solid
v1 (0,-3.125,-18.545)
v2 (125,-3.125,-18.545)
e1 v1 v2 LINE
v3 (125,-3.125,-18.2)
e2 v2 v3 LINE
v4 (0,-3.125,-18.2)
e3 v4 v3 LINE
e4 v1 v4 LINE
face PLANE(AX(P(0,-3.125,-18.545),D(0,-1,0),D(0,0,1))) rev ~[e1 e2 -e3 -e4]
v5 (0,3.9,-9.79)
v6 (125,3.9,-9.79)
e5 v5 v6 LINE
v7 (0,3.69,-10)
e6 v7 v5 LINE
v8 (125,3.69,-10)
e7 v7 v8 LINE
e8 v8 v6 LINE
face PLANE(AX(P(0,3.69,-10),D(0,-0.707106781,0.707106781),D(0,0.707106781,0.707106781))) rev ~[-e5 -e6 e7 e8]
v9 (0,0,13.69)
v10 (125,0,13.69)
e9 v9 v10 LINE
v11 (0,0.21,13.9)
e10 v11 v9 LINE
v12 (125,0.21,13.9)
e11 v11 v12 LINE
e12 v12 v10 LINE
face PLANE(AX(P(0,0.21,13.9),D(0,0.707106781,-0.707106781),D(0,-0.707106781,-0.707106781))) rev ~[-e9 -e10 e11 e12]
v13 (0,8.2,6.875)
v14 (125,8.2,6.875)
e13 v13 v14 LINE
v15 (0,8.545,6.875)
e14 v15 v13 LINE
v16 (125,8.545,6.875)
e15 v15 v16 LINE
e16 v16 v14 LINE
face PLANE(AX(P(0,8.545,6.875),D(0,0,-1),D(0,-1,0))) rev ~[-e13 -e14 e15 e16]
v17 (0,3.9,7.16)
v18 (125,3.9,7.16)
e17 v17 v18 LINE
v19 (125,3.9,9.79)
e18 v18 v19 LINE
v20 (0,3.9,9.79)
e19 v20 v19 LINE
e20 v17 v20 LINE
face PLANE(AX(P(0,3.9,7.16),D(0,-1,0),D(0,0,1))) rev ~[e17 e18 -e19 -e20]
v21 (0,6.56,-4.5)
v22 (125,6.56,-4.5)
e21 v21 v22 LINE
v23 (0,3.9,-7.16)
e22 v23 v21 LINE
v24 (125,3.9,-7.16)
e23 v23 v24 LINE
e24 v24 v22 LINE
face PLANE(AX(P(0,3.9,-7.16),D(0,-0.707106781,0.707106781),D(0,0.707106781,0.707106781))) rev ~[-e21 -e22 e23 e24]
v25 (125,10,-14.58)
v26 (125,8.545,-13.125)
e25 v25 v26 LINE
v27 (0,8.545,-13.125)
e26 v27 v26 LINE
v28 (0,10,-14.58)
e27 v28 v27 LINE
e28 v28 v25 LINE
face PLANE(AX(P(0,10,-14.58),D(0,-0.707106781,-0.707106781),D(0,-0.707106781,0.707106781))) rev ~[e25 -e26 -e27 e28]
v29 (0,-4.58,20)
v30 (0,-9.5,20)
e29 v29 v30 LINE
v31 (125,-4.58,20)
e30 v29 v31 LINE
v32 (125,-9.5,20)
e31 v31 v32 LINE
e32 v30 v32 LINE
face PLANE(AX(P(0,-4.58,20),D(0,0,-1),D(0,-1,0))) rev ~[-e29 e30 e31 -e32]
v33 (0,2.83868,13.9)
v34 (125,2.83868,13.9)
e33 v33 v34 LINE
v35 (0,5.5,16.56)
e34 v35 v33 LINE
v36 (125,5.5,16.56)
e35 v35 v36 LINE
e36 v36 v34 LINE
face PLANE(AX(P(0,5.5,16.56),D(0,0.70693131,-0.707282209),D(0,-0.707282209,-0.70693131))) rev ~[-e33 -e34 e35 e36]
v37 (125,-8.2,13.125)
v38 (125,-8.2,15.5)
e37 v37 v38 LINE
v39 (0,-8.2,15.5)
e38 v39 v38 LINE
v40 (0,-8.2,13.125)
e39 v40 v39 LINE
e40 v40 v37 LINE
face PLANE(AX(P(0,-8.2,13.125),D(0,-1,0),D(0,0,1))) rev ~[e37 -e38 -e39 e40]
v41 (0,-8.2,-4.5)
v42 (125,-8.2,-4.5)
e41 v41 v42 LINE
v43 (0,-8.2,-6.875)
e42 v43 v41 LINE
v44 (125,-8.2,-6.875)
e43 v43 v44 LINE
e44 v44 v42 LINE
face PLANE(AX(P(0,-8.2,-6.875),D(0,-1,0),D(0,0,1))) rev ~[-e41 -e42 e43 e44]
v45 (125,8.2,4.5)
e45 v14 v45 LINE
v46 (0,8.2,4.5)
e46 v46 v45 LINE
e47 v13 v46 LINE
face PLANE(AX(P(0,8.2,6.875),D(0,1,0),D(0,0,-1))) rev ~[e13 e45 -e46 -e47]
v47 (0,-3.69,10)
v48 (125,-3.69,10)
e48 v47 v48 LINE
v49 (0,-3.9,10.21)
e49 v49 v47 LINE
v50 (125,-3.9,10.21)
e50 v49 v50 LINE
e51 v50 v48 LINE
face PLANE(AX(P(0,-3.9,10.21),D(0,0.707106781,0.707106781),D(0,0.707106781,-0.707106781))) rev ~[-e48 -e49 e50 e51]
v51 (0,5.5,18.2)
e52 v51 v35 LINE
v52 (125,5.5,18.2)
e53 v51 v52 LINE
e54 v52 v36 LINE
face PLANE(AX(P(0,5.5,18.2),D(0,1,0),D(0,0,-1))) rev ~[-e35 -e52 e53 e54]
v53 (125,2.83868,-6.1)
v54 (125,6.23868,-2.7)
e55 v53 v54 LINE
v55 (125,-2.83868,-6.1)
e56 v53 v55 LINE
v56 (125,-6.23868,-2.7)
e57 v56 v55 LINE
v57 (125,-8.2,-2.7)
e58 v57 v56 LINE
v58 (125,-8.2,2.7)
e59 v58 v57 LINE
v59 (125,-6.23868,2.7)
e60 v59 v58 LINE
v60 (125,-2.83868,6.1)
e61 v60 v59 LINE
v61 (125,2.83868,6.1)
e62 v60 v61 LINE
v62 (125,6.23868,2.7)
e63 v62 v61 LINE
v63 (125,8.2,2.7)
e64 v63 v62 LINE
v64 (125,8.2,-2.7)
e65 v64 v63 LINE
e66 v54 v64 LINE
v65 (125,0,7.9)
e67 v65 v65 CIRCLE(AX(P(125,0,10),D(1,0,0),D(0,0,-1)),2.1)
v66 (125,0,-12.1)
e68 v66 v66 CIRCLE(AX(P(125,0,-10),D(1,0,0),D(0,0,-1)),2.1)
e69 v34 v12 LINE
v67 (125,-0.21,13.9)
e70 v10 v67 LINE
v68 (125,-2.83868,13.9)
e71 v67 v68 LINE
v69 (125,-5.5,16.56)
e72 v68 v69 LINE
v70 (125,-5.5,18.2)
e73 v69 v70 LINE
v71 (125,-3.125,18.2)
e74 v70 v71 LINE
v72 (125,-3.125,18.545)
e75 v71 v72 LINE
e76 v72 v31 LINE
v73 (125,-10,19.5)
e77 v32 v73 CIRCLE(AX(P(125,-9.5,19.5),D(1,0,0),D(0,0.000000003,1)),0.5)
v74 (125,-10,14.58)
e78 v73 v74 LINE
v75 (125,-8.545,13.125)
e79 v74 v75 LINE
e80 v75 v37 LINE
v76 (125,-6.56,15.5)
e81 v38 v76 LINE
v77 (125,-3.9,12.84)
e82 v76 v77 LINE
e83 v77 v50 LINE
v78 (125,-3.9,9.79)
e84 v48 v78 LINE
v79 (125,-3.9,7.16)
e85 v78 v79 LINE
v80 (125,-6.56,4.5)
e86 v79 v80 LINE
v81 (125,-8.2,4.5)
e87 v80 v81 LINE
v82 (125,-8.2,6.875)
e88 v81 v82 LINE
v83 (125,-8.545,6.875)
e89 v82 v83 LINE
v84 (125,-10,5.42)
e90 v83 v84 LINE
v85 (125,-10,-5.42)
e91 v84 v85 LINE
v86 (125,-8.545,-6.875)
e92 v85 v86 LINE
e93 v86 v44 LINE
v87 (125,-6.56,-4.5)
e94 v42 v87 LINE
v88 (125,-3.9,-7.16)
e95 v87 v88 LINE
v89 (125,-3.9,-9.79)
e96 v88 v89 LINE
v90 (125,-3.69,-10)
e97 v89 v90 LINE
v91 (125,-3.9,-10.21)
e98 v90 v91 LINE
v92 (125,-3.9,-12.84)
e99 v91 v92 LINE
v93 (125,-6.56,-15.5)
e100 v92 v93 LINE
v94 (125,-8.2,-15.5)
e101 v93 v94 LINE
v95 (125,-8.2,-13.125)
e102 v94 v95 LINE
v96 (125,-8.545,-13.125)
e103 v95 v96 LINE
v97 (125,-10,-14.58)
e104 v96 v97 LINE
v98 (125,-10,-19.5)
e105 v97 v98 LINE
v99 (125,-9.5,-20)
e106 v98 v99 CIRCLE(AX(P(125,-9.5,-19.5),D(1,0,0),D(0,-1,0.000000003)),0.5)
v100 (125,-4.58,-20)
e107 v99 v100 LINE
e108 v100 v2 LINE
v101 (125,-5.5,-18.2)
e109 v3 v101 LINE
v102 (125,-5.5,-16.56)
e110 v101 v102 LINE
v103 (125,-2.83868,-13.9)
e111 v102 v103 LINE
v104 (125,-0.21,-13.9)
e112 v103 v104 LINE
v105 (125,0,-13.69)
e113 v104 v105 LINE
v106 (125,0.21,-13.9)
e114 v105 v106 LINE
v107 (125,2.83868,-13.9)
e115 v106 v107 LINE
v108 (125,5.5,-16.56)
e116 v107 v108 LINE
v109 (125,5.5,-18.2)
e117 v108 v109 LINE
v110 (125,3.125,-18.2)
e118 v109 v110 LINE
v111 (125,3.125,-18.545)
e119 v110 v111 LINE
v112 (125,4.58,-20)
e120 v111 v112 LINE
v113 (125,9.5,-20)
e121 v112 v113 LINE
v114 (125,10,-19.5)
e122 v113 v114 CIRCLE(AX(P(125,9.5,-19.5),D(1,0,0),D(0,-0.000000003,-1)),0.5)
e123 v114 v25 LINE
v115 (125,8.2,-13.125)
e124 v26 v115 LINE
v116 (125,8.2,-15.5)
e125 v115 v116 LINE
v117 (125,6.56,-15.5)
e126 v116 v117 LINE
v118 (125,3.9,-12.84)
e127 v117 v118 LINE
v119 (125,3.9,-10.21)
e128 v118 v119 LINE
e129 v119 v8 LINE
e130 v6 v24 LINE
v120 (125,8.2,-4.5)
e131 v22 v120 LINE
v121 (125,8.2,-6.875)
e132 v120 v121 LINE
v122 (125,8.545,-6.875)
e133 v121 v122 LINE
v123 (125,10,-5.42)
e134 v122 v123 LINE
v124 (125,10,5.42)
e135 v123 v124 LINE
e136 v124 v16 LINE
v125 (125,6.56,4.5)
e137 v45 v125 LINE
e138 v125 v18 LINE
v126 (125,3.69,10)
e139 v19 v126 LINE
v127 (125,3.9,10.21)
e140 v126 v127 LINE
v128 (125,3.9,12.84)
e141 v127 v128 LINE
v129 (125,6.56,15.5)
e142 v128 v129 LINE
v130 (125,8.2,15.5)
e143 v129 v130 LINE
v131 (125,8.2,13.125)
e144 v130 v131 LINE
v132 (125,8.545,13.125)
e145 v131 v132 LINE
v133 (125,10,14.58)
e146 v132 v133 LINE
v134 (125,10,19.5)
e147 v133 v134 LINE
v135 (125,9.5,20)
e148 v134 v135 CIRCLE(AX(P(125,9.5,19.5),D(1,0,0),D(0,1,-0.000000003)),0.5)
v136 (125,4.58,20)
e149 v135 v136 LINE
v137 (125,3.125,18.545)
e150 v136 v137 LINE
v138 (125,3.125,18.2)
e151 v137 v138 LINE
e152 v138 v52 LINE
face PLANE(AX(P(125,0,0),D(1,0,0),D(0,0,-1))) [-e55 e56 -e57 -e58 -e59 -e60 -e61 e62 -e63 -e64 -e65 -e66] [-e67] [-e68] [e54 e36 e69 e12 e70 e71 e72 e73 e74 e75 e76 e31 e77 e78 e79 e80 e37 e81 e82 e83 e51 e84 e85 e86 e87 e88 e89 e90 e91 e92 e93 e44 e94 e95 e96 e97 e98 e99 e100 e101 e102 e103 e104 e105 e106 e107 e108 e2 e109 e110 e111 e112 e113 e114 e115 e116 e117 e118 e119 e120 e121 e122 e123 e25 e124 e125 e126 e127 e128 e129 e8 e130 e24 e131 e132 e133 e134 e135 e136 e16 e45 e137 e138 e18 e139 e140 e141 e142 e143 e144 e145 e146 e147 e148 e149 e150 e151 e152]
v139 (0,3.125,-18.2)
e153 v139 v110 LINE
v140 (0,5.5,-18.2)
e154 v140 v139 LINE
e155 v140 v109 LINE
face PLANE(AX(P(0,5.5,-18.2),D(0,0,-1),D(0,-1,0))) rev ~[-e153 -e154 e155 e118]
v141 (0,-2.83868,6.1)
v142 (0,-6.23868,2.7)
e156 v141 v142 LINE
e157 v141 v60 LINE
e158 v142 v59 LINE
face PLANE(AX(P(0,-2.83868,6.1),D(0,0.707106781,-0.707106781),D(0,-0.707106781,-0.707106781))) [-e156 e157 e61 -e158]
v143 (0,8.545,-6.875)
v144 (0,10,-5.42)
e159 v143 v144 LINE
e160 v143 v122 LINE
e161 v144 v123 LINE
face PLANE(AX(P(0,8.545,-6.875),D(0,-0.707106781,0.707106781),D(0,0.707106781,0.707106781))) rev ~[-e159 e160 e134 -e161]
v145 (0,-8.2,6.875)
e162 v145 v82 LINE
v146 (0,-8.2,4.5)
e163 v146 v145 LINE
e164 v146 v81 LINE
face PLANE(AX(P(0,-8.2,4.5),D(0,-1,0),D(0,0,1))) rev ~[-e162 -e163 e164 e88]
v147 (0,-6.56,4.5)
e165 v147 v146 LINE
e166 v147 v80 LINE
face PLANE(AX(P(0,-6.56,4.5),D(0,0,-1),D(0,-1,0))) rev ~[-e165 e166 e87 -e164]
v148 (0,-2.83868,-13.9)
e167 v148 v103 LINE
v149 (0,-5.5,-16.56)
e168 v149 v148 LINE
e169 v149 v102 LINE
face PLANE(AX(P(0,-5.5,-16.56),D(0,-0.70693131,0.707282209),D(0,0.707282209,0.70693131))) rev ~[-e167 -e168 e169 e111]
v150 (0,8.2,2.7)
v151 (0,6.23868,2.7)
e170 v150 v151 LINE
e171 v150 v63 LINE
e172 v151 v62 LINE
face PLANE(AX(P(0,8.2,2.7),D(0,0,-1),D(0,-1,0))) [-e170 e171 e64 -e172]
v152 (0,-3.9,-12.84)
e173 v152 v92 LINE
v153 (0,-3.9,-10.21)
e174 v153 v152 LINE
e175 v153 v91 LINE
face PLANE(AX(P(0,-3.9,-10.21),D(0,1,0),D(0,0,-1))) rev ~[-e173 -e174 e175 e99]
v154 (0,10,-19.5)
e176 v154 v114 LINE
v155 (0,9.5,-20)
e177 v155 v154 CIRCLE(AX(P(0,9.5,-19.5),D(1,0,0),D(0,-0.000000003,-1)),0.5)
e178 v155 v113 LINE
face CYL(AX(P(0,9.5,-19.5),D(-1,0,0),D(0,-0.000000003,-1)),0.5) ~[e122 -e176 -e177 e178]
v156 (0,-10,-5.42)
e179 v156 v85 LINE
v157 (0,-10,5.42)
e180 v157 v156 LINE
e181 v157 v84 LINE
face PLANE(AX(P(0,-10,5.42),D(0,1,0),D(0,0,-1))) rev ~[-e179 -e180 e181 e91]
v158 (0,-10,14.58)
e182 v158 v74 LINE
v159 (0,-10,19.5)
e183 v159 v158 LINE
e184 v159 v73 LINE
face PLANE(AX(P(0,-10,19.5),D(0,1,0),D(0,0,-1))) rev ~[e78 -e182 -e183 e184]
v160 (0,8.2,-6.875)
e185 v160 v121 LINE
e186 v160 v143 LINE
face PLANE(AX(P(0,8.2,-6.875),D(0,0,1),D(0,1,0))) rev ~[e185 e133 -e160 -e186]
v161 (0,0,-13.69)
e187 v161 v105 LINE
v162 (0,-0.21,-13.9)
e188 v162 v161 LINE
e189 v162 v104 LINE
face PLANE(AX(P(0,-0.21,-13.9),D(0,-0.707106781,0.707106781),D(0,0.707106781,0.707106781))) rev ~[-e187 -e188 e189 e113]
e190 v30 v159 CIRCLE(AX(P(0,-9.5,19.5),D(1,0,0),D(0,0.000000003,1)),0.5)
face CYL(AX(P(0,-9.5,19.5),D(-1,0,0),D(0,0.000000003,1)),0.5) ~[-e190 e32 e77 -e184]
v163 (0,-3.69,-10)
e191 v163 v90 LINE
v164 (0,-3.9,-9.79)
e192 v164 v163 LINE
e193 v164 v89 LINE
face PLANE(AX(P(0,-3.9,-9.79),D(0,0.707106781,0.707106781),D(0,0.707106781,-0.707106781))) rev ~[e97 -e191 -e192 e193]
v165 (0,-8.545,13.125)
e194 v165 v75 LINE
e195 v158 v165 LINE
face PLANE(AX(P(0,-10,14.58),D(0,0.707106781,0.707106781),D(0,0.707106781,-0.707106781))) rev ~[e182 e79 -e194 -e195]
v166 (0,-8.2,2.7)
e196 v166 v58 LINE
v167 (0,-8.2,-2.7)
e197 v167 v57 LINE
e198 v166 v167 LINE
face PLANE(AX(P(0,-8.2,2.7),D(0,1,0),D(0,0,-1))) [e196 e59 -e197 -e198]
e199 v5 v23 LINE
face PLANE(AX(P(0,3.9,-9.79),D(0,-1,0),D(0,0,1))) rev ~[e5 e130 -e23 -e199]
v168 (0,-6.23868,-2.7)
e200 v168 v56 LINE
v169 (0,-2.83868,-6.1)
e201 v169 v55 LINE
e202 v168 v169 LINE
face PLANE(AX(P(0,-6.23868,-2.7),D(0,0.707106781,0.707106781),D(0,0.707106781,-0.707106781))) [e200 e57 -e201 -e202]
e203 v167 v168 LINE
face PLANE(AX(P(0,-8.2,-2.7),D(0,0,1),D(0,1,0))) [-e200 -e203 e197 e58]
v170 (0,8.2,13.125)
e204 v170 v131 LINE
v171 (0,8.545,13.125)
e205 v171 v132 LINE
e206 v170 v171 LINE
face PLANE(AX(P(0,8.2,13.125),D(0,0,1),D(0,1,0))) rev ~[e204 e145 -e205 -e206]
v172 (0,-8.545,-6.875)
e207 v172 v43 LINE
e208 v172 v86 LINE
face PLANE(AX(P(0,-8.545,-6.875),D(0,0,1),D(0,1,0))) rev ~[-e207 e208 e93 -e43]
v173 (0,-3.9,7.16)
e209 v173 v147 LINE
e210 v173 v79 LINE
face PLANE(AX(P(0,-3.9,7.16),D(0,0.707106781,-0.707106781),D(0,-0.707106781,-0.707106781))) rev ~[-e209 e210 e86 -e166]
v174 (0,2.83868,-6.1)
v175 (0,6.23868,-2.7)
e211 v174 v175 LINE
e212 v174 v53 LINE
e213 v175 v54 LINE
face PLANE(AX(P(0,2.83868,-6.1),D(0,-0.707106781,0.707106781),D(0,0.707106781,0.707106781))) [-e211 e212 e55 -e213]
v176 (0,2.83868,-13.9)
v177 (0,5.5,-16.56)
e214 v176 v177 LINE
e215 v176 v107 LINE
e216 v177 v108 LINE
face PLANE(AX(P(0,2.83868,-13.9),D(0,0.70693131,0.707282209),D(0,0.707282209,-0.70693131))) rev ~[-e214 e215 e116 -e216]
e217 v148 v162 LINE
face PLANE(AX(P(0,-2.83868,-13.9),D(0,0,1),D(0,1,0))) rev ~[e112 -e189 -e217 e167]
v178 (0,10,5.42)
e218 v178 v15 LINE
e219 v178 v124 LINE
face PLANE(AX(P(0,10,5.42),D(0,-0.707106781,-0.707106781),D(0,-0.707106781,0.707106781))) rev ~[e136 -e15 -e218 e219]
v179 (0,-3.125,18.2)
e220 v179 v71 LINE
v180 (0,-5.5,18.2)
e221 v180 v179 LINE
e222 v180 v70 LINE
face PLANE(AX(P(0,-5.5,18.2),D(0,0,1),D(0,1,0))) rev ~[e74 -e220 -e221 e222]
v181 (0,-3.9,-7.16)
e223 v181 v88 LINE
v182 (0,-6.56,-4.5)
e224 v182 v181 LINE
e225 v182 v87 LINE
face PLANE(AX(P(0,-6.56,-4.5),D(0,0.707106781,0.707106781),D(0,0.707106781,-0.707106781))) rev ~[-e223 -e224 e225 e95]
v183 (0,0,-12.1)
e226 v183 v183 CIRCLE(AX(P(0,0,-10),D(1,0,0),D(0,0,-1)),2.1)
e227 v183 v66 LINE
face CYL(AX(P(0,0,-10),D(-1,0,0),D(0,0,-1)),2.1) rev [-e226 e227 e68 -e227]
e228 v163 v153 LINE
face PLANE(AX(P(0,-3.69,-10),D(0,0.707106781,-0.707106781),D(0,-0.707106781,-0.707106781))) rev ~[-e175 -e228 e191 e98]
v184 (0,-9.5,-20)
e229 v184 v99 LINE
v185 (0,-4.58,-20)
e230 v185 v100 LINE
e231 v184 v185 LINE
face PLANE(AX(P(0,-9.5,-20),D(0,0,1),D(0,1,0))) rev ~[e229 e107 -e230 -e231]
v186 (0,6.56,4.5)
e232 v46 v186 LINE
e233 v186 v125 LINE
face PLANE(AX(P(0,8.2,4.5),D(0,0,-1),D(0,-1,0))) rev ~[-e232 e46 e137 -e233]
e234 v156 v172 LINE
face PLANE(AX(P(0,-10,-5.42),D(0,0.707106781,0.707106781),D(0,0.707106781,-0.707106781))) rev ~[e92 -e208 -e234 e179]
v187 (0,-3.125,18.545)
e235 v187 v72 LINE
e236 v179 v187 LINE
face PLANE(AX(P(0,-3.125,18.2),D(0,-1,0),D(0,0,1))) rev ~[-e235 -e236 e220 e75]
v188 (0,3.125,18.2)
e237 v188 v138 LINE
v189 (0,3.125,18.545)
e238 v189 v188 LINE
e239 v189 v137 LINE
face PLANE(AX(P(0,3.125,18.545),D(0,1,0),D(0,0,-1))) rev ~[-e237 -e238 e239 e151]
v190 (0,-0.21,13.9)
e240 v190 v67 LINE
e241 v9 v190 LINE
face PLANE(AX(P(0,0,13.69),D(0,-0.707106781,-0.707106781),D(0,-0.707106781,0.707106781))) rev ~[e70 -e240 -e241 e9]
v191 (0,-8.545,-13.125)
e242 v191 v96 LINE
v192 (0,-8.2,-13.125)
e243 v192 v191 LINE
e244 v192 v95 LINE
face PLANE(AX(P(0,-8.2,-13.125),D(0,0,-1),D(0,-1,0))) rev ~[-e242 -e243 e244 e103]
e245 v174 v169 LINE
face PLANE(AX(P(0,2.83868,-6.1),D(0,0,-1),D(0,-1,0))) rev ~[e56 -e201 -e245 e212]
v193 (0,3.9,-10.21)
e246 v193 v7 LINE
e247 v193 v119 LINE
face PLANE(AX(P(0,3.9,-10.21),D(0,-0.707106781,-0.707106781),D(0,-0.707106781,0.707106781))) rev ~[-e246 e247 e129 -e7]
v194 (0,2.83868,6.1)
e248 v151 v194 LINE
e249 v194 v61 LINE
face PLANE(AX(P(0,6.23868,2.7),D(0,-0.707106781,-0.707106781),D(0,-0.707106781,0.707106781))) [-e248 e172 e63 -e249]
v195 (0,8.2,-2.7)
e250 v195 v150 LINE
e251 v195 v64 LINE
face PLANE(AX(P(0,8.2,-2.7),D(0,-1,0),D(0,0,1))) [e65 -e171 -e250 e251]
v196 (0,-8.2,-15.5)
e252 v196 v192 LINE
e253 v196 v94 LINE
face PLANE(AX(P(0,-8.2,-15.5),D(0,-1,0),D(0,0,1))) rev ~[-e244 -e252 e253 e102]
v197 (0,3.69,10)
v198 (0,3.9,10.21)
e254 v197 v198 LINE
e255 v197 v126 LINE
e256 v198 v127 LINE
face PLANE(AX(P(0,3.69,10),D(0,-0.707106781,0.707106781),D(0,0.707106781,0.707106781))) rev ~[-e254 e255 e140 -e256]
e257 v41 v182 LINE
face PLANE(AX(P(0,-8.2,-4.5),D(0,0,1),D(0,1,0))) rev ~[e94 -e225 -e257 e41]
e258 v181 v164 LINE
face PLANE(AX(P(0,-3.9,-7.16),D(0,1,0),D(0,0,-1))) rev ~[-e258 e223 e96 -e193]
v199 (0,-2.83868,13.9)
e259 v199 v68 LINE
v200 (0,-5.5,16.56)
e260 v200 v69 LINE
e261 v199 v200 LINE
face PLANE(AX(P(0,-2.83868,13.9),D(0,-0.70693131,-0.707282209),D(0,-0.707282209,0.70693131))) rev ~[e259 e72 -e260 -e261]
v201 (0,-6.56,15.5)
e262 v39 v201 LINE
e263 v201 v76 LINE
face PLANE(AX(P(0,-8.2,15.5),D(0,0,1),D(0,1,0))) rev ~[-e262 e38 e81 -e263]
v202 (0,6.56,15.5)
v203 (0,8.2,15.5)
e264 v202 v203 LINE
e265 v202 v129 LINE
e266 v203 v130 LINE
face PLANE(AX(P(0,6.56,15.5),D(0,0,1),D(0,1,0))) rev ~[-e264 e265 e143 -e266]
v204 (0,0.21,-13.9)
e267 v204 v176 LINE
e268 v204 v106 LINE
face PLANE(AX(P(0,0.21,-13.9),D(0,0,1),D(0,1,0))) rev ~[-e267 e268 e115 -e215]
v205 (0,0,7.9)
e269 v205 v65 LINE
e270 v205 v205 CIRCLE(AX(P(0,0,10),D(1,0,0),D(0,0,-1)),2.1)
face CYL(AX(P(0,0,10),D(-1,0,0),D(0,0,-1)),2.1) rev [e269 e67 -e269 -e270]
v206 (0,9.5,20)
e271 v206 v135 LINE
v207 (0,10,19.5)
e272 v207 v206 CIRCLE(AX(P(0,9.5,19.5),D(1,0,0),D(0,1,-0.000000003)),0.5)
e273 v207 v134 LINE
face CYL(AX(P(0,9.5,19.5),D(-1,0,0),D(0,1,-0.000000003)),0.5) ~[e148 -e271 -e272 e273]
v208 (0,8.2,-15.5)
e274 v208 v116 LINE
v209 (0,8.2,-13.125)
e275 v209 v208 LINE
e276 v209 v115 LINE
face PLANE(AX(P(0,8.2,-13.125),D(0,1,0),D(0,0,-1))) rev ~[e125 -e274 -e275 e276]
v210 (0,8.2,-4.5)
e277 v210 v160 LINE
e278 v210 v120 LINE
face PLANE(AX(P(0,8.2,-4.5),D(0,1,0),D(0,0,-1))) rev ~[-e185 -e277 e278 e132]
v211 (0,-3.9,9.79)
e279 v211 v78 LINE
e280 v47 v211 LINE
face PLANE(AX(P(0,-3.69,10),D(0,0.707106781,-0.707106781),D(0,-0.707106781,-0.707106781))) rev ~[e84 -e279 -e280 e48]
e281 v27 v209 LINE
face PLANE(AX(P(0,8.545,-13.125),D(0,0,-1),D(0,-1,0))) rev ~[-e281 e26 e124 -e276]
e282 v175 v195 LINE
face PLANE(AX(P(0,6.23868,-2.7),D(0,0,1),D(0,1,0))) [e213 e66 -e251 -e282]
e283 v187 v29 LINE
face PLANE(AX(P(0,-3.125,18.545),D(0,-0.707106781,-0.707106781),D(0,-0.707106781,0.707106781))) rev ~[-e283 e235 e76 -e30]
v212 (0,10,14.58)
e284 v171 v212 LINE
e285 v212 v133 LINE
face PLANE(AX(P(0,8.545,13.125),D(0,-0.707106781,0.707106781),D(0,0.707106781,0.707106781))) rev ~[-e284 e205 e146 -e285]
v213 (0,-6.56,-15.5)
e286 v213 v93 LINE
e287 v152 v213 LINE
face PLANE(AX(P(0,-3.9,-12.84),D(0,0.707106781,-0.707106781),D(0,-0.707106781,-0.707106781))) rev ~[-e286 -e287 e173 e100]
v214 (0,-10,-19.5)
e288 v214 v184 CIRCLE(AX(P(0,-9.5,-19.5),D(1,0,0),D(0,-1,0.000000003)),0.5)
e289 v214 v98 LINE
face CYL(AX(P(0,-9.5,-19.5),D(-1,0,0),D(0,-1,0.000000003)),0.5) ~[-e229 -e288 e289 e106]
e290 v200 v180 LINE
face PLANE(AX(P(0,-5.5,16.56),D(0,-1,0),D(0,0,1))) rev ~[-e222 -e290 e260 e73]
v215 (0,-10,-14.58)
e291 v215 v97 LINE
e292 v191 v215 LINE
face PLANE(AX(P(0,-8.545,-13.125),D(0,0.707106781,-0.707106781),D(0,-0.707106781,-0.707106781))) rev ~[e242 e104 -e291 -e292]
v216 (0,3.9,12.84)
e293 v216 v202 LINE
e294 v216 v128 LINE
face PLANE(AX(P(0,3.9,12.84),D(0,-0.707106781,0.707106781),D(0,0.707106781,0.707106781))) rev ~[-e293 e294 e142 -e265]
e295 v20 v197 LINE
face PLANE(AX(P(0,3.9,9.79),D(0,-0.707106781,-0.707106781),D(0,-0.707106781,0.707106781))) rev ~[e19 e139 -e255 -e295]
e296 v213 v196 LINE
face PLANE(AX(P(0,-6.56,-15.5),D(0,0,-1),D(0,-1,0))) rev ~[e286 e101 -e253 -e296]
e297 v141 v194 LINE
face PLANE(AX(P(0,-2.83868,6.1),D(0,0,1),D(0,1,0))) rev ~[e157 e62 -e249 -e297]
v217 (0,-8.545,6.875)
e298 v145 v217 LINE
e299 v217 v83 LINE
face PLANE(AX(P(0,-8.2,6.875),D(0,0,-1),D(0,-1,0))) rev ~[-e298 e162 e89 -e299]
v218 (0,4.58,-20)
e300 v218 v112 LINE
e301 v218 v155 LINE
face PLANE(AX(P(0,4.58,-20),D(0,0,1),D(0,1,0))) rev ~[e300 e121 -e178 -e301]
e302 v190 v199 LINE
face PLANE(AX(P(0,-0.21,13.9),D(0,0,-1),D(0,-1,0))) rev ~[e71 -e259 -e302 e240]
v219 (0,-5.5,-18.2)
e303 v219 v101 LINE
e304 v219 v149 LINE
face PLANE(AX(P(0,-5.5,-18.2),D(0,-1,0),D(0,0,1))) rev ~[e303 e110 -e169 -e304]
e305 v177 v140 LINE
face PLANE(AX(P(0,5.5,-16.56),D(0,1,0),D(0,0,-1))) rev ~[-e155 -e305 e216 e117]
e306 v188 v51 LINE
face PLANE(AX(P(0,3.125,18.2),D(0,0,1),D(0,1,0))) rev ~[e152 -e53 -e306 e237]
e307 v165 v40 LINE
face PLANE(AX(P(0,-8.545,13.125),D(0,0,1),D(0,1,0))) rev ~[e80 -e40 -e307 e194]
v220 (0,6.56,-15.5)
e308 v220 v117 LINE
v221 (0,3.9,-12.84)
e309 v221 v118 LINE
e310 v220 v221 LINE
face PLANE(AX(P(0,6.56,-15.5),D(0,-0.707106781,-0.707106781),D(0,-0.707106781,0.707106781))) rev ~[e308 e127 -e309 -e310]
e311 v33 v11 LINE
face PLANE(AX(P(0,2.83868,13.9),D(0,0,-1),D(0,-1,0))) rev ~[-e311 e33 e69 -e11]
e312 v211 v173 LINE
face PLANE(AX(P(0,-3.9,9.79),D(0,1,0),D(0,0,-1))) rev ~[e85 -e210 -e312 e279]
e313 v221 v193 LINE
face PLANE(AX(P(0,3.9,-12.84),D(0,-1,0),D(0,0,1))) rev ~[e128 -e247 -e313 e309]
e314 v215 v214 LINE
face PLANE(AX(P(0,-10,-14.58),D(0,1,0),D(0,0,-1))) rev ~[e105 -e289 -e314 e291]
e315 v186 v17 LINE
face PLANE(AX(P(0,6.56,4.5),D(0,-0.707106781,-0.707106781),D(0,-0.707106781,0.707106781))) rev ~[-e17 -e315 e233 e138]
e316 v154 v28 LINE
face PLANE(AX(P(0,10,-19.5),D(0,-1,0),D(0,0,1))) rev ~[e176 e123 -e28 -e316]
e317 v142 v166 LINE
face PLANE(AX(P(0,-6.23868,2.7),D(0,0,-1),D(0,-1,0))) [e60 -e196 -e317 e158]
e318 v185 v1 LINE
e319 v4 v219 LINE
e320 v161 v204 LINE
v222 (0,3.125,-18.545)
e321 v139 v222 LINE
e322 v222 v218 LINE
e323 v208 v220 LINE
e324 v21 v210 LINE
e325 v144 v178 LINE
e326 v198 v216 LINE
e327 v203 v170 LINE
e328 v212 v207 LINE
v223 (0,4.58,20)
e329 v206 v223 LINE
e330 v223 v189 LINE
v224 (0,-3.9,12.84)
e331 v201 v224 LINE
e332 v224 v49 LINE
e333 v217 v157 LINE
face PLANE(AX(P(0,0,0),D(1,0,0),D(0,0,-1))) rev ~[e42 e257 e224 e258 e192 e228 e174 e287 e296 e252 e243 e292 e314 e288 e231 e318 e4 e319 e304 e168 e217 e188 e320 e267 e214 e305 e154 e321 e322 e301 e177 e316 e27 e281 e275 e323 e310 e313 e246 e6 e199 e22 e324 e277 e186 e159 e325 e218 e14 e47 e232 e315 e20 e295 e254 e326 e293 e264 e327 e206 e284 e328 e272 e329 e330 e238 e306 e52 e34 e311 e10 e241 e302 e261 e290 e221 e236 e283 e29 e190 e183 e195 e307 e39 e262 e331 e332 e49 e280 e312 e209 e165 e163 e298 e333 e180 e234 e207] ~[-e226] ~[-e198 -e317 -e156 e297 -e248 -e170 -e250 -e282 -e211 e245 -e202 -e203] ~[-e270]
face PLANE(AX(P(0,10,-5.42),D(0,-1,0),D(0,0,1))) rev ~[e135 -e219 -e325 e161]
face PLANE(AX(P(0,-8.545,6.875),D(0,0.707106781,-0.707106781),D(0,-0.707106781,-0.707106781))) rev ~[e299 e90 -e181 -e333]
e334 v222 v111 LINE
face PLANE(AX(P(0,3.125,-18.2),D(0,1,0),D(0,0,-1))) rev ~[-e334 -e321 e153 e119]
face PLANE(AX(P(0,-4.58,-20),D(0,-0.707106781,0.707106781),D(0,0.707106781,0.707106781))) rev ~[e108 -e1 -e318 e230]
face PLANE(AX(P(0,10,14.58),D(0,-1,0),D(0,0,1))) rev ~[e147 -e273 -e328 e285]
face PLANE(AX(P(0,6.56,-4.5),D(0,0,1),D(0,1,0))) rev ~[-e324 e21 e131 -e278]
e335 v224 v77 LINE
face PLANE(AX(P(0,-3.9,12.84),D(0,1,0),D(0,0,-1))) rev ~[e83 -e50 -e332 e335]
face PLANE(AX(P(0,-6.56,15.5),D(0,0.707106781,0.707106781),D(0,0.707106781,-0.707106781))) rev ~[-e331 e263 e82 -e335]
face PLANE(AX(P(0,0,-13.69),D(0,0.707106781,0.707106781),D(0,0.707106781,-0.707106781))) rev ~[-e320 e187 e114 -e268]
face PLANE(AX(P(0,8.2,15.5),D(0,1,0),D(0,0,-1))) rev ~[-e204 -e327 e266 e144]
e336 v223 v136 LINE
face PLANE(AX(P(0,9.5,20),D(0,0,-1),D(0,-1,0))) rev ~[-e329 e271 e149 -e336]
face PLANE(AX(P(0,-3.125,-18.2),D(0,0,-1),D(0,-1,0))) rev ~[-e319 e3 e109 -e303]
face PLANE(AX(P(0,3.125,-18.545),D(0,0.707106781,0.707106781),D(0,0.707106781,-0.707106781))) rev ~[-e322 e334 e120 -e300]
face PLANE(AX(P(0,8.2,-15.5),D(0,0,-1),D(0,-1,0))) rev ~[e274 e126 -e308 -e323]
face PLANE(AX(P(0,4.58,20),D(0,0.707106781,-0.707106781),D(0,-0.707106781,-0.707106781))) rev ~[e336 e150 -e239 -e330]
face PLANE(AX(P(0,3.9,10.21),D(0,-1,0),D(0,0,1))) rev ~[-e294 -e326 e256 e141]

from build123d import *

# Parameters (mm, degrees)
PROFILE_SKETCH_R      = 2.1
PROFILE_EXTRUDE_DEPTH = 125


with BuildPart() as part:
    # Profile Sketch → Profile Extrude (new body)
    with BuildSketch(Plane(origin=(0, 0, 0), x_dir=(0, 0, -1), z_dir=(1, 0, 0))):
        with BuildLine():
            Line((5.42, 10), (-5.42, 10))
            Line((-5.42, 10), (-6.875, 8.545))
            Line((-6.875, 8.545), (-6.875, 8.2))
            Line((-6.875, 8.2), (-4.5, 8.2))
            Line((-4.5, 8.2), (-4.5, 6.56))
            Line((-4.5, 6.56), (-7.16, 3.9))
            Line((-7.16, 3.9), (-9.79, 3.9))
            Line((-9.79, 3.9), (-10, 3.69))
            Line((-10, 3.69), (-10.21, 3.9))
            Line((-10.21, 3.9), (-12.84, 3.9))
            Line((-12.84, 3.9), (-15.5, 6.56))
            Line((-15.5, 6.56), (-15.5, 8.2))
            Line((-15.5, 8.2), (-13.125, 8.2))
            Line((-13.125, 8.2), (-13.125, 8.545))
            Line((-13.125, 8.545), (-14.58, 10))
            Line((-14.58, 10), (-19.5, 10))
            ThreePointArc((-19.5, 10), (-19.853553391, 9.853553391), (-20, 9.5))
            Line((-20, 9.5), (-20, 4.58))
            Line((-20, 4.58), (-18.545, 3.125))
            Line((-18.545, 3.125), (-18.2, 3.125))
            Line((-18.2, 3.125), (-18.2, 5.5))
            Line((-18.2, 5.5), (-16.56, 5.5))
            Line((-16.56, 5.5), (-13.9, 2.838679656))
            Line((-13.9, 2.838679656), (-13.9, 0.21))
            Line((-13.9, 0.21), (-13.69, 0))
            Line((-13.69, 0), (-13.9, -0.21))
            Line((-13.9, -0.21), (-13.9, -2.838679656))
            Line((-13.9, -2.838679656), (-16.56, -5.5))
            Line((-16.56, -5.5), (-18.2, -5.5))
            Line((-18.2, -5.5), (-18.2, -3.125))
            Line((-18.2, -3.125), (-18.545, -3.125))
            Line((-18.545, -3.125), (-20, -4.58))
            Line((-20, -4.58), (-20, -9.5))
            ThreePointArc((-20, -9.5), (-19.853553391, -9.853553391), (-19.5, -10))
            Line((-19.5, -10), (-14.58, -10))
            Line((-14.58, -10), (-13.125, -8.545))
            Line((-13.125, -8.545), (-13.125, -8.2))
            Line((-13.125, -8.2), (-15.5, -8.2))
            Line((-15.5, -8.2), (-15.5, -6.56))
            Line((-15.5, -6.56), (-12.84, -3.9))
            Line((-12.84, -3.9), (-10.21, -3.9))
            Line((-10.21, -3.9), (-10, -3.69))
            Line((-10, -3.69), (-9.79, -3.9))
            Line((-9.79, -3.9), (-7.16, -3.9))
            Line((-7.16, -3.9), (-4.5, -6.56))
            Line((-4.5, -6.56), (-4.5, -8.2))
            Line((-4.5, -8.2), (-6.875, -8.2))
            Line((-6.875, -8.2), (-6.875, -8.545))
            Line((-6.875, -8.545), (-5.42, -10))
            Line((-5.42, -10), (5.42, -10))
            Line((5.42, -10), (6.875, -8.545))
            Line((6.875, -8.545), (6.875, -8.2))
            Line((6.875, -8.2), (4.5, -8.2))
            Line((4.5, -8.2), (4.5, -6.56))
            Line((4.5, -6.56), (7.16, -3.9))
            Line((7.16, -3.9), (9.79, -3.9))
            Line((9.79, -3.9), (10, -3.69))
            Line((10, -3.69), (10.21, -3.9))
            Line((10.21, -3.9), (12.84, -3.9))
            Line((12.84, -3.9), (15.5, -6.56))
            Line((15.5, -6.56), (15.5, -8.2))
            Line((15.5, -8.2), (13.125, -8.2))
            Line((13.125, -8.2), (13.125, -8.545))
            Line((13.125, -8.545), (14.58, -10))
            Line((14.58, -10), (19.5, -10))
            ThreePointArc((19.5, -10), (19.853553391, -9.853553391), (20, -9.5))
            Line((20, -9.5), (20, -4.58))
            Line((20, -4.58), (18.545, -3.125))
            Line((18.545, -3.125), (18.2, -3.125))
            Line((18.2, -3.125), (18.2, -5.5))
            Line((18.2, -5.5), (16.56, -5.5))
            Line((16.56, -5.5), (13.9, -2.838679656))
            Line((13.9, -2.838679656), (13.9, -0.21))
            Line((13.9, -0.21), (13.69, 0))
            Line((13.69, 0), (13.9, 0.21))
            Line((13.9, 0.21), (13.9, 2.838679656))
            Line((13.9, 2.838679656), (16.56, 5.5))
            Line((16.56, 5.5), (18.2, 5.5))
            Line((18.2, 5.5), (18.2, 3.125))
            Line((18.2, 3.125), (18.545, 3.125))
            Line((18.545, 3.125), (20, 4.58))
            Line((20, 4.58), (20, 9.5))
            ThreePointArc((20, 9.5), (19.853553391, 9.853553391), (19.5, 10))
            Line((19.5, 10), (14.58, 10))
            Line((14.58, 10), (13.125, 8.545))
            Line((13.125, 8.545), (13.125, 8.2))
            Line((13.125, 8.2), (15.5, 8.2))
            Line((15.5, 8.2), (15.5, 6.56))
            Line((15.5, 6.56), (12.84, 3.9))
            Line((12.84, 3.9), (10.21, 3.9))
            Line((10.21, 3.9), (10, 3.69))
            Line((10, 3.69), (9.79, 3.9))
            Line((9.79, 3.9), (7.16, 3.9))
            Line((7.16, 3.9), (4.5, 6.56))
            Line((4.5, 6.56), (4.5, 8.2))
            Line((4.5, 8.2), (6.875, 8.2))
            Line((6.875, 8.2), (6.875, 8.545))
            Line((6.875, 8.545), (5.42, 10))
        make_face()
        with Locations((-10, 0)):
            Circle(PROFILE_SKETCH_R, mode=Mode.SUBTRACT)
        with Locations((10, 0)):
            Circle(PROFILE_SKETCH_R, mode=Mode.SUBTRACT)
        Polygon((2.7, 8.2), (-2.7, 8.2), (-2.7, 6.238679656), (-6.1, 2.838679656), (-6.1, -0.21), (-6.1, -2.838679656), (-2.7, -6.238679656), (-2.7, -8.2), (2.7, -8.2), (2.7, -6.238679656), (6.1, -2.838679656), (6.1, -0.21), (6.1, 2.838679656), (2.7, 6.238679656), align=None, mode=Mode.SUBTRACT)
    extrude(amount=PROFILE_EXTRUDE_DEPTH)


solid = part.part
